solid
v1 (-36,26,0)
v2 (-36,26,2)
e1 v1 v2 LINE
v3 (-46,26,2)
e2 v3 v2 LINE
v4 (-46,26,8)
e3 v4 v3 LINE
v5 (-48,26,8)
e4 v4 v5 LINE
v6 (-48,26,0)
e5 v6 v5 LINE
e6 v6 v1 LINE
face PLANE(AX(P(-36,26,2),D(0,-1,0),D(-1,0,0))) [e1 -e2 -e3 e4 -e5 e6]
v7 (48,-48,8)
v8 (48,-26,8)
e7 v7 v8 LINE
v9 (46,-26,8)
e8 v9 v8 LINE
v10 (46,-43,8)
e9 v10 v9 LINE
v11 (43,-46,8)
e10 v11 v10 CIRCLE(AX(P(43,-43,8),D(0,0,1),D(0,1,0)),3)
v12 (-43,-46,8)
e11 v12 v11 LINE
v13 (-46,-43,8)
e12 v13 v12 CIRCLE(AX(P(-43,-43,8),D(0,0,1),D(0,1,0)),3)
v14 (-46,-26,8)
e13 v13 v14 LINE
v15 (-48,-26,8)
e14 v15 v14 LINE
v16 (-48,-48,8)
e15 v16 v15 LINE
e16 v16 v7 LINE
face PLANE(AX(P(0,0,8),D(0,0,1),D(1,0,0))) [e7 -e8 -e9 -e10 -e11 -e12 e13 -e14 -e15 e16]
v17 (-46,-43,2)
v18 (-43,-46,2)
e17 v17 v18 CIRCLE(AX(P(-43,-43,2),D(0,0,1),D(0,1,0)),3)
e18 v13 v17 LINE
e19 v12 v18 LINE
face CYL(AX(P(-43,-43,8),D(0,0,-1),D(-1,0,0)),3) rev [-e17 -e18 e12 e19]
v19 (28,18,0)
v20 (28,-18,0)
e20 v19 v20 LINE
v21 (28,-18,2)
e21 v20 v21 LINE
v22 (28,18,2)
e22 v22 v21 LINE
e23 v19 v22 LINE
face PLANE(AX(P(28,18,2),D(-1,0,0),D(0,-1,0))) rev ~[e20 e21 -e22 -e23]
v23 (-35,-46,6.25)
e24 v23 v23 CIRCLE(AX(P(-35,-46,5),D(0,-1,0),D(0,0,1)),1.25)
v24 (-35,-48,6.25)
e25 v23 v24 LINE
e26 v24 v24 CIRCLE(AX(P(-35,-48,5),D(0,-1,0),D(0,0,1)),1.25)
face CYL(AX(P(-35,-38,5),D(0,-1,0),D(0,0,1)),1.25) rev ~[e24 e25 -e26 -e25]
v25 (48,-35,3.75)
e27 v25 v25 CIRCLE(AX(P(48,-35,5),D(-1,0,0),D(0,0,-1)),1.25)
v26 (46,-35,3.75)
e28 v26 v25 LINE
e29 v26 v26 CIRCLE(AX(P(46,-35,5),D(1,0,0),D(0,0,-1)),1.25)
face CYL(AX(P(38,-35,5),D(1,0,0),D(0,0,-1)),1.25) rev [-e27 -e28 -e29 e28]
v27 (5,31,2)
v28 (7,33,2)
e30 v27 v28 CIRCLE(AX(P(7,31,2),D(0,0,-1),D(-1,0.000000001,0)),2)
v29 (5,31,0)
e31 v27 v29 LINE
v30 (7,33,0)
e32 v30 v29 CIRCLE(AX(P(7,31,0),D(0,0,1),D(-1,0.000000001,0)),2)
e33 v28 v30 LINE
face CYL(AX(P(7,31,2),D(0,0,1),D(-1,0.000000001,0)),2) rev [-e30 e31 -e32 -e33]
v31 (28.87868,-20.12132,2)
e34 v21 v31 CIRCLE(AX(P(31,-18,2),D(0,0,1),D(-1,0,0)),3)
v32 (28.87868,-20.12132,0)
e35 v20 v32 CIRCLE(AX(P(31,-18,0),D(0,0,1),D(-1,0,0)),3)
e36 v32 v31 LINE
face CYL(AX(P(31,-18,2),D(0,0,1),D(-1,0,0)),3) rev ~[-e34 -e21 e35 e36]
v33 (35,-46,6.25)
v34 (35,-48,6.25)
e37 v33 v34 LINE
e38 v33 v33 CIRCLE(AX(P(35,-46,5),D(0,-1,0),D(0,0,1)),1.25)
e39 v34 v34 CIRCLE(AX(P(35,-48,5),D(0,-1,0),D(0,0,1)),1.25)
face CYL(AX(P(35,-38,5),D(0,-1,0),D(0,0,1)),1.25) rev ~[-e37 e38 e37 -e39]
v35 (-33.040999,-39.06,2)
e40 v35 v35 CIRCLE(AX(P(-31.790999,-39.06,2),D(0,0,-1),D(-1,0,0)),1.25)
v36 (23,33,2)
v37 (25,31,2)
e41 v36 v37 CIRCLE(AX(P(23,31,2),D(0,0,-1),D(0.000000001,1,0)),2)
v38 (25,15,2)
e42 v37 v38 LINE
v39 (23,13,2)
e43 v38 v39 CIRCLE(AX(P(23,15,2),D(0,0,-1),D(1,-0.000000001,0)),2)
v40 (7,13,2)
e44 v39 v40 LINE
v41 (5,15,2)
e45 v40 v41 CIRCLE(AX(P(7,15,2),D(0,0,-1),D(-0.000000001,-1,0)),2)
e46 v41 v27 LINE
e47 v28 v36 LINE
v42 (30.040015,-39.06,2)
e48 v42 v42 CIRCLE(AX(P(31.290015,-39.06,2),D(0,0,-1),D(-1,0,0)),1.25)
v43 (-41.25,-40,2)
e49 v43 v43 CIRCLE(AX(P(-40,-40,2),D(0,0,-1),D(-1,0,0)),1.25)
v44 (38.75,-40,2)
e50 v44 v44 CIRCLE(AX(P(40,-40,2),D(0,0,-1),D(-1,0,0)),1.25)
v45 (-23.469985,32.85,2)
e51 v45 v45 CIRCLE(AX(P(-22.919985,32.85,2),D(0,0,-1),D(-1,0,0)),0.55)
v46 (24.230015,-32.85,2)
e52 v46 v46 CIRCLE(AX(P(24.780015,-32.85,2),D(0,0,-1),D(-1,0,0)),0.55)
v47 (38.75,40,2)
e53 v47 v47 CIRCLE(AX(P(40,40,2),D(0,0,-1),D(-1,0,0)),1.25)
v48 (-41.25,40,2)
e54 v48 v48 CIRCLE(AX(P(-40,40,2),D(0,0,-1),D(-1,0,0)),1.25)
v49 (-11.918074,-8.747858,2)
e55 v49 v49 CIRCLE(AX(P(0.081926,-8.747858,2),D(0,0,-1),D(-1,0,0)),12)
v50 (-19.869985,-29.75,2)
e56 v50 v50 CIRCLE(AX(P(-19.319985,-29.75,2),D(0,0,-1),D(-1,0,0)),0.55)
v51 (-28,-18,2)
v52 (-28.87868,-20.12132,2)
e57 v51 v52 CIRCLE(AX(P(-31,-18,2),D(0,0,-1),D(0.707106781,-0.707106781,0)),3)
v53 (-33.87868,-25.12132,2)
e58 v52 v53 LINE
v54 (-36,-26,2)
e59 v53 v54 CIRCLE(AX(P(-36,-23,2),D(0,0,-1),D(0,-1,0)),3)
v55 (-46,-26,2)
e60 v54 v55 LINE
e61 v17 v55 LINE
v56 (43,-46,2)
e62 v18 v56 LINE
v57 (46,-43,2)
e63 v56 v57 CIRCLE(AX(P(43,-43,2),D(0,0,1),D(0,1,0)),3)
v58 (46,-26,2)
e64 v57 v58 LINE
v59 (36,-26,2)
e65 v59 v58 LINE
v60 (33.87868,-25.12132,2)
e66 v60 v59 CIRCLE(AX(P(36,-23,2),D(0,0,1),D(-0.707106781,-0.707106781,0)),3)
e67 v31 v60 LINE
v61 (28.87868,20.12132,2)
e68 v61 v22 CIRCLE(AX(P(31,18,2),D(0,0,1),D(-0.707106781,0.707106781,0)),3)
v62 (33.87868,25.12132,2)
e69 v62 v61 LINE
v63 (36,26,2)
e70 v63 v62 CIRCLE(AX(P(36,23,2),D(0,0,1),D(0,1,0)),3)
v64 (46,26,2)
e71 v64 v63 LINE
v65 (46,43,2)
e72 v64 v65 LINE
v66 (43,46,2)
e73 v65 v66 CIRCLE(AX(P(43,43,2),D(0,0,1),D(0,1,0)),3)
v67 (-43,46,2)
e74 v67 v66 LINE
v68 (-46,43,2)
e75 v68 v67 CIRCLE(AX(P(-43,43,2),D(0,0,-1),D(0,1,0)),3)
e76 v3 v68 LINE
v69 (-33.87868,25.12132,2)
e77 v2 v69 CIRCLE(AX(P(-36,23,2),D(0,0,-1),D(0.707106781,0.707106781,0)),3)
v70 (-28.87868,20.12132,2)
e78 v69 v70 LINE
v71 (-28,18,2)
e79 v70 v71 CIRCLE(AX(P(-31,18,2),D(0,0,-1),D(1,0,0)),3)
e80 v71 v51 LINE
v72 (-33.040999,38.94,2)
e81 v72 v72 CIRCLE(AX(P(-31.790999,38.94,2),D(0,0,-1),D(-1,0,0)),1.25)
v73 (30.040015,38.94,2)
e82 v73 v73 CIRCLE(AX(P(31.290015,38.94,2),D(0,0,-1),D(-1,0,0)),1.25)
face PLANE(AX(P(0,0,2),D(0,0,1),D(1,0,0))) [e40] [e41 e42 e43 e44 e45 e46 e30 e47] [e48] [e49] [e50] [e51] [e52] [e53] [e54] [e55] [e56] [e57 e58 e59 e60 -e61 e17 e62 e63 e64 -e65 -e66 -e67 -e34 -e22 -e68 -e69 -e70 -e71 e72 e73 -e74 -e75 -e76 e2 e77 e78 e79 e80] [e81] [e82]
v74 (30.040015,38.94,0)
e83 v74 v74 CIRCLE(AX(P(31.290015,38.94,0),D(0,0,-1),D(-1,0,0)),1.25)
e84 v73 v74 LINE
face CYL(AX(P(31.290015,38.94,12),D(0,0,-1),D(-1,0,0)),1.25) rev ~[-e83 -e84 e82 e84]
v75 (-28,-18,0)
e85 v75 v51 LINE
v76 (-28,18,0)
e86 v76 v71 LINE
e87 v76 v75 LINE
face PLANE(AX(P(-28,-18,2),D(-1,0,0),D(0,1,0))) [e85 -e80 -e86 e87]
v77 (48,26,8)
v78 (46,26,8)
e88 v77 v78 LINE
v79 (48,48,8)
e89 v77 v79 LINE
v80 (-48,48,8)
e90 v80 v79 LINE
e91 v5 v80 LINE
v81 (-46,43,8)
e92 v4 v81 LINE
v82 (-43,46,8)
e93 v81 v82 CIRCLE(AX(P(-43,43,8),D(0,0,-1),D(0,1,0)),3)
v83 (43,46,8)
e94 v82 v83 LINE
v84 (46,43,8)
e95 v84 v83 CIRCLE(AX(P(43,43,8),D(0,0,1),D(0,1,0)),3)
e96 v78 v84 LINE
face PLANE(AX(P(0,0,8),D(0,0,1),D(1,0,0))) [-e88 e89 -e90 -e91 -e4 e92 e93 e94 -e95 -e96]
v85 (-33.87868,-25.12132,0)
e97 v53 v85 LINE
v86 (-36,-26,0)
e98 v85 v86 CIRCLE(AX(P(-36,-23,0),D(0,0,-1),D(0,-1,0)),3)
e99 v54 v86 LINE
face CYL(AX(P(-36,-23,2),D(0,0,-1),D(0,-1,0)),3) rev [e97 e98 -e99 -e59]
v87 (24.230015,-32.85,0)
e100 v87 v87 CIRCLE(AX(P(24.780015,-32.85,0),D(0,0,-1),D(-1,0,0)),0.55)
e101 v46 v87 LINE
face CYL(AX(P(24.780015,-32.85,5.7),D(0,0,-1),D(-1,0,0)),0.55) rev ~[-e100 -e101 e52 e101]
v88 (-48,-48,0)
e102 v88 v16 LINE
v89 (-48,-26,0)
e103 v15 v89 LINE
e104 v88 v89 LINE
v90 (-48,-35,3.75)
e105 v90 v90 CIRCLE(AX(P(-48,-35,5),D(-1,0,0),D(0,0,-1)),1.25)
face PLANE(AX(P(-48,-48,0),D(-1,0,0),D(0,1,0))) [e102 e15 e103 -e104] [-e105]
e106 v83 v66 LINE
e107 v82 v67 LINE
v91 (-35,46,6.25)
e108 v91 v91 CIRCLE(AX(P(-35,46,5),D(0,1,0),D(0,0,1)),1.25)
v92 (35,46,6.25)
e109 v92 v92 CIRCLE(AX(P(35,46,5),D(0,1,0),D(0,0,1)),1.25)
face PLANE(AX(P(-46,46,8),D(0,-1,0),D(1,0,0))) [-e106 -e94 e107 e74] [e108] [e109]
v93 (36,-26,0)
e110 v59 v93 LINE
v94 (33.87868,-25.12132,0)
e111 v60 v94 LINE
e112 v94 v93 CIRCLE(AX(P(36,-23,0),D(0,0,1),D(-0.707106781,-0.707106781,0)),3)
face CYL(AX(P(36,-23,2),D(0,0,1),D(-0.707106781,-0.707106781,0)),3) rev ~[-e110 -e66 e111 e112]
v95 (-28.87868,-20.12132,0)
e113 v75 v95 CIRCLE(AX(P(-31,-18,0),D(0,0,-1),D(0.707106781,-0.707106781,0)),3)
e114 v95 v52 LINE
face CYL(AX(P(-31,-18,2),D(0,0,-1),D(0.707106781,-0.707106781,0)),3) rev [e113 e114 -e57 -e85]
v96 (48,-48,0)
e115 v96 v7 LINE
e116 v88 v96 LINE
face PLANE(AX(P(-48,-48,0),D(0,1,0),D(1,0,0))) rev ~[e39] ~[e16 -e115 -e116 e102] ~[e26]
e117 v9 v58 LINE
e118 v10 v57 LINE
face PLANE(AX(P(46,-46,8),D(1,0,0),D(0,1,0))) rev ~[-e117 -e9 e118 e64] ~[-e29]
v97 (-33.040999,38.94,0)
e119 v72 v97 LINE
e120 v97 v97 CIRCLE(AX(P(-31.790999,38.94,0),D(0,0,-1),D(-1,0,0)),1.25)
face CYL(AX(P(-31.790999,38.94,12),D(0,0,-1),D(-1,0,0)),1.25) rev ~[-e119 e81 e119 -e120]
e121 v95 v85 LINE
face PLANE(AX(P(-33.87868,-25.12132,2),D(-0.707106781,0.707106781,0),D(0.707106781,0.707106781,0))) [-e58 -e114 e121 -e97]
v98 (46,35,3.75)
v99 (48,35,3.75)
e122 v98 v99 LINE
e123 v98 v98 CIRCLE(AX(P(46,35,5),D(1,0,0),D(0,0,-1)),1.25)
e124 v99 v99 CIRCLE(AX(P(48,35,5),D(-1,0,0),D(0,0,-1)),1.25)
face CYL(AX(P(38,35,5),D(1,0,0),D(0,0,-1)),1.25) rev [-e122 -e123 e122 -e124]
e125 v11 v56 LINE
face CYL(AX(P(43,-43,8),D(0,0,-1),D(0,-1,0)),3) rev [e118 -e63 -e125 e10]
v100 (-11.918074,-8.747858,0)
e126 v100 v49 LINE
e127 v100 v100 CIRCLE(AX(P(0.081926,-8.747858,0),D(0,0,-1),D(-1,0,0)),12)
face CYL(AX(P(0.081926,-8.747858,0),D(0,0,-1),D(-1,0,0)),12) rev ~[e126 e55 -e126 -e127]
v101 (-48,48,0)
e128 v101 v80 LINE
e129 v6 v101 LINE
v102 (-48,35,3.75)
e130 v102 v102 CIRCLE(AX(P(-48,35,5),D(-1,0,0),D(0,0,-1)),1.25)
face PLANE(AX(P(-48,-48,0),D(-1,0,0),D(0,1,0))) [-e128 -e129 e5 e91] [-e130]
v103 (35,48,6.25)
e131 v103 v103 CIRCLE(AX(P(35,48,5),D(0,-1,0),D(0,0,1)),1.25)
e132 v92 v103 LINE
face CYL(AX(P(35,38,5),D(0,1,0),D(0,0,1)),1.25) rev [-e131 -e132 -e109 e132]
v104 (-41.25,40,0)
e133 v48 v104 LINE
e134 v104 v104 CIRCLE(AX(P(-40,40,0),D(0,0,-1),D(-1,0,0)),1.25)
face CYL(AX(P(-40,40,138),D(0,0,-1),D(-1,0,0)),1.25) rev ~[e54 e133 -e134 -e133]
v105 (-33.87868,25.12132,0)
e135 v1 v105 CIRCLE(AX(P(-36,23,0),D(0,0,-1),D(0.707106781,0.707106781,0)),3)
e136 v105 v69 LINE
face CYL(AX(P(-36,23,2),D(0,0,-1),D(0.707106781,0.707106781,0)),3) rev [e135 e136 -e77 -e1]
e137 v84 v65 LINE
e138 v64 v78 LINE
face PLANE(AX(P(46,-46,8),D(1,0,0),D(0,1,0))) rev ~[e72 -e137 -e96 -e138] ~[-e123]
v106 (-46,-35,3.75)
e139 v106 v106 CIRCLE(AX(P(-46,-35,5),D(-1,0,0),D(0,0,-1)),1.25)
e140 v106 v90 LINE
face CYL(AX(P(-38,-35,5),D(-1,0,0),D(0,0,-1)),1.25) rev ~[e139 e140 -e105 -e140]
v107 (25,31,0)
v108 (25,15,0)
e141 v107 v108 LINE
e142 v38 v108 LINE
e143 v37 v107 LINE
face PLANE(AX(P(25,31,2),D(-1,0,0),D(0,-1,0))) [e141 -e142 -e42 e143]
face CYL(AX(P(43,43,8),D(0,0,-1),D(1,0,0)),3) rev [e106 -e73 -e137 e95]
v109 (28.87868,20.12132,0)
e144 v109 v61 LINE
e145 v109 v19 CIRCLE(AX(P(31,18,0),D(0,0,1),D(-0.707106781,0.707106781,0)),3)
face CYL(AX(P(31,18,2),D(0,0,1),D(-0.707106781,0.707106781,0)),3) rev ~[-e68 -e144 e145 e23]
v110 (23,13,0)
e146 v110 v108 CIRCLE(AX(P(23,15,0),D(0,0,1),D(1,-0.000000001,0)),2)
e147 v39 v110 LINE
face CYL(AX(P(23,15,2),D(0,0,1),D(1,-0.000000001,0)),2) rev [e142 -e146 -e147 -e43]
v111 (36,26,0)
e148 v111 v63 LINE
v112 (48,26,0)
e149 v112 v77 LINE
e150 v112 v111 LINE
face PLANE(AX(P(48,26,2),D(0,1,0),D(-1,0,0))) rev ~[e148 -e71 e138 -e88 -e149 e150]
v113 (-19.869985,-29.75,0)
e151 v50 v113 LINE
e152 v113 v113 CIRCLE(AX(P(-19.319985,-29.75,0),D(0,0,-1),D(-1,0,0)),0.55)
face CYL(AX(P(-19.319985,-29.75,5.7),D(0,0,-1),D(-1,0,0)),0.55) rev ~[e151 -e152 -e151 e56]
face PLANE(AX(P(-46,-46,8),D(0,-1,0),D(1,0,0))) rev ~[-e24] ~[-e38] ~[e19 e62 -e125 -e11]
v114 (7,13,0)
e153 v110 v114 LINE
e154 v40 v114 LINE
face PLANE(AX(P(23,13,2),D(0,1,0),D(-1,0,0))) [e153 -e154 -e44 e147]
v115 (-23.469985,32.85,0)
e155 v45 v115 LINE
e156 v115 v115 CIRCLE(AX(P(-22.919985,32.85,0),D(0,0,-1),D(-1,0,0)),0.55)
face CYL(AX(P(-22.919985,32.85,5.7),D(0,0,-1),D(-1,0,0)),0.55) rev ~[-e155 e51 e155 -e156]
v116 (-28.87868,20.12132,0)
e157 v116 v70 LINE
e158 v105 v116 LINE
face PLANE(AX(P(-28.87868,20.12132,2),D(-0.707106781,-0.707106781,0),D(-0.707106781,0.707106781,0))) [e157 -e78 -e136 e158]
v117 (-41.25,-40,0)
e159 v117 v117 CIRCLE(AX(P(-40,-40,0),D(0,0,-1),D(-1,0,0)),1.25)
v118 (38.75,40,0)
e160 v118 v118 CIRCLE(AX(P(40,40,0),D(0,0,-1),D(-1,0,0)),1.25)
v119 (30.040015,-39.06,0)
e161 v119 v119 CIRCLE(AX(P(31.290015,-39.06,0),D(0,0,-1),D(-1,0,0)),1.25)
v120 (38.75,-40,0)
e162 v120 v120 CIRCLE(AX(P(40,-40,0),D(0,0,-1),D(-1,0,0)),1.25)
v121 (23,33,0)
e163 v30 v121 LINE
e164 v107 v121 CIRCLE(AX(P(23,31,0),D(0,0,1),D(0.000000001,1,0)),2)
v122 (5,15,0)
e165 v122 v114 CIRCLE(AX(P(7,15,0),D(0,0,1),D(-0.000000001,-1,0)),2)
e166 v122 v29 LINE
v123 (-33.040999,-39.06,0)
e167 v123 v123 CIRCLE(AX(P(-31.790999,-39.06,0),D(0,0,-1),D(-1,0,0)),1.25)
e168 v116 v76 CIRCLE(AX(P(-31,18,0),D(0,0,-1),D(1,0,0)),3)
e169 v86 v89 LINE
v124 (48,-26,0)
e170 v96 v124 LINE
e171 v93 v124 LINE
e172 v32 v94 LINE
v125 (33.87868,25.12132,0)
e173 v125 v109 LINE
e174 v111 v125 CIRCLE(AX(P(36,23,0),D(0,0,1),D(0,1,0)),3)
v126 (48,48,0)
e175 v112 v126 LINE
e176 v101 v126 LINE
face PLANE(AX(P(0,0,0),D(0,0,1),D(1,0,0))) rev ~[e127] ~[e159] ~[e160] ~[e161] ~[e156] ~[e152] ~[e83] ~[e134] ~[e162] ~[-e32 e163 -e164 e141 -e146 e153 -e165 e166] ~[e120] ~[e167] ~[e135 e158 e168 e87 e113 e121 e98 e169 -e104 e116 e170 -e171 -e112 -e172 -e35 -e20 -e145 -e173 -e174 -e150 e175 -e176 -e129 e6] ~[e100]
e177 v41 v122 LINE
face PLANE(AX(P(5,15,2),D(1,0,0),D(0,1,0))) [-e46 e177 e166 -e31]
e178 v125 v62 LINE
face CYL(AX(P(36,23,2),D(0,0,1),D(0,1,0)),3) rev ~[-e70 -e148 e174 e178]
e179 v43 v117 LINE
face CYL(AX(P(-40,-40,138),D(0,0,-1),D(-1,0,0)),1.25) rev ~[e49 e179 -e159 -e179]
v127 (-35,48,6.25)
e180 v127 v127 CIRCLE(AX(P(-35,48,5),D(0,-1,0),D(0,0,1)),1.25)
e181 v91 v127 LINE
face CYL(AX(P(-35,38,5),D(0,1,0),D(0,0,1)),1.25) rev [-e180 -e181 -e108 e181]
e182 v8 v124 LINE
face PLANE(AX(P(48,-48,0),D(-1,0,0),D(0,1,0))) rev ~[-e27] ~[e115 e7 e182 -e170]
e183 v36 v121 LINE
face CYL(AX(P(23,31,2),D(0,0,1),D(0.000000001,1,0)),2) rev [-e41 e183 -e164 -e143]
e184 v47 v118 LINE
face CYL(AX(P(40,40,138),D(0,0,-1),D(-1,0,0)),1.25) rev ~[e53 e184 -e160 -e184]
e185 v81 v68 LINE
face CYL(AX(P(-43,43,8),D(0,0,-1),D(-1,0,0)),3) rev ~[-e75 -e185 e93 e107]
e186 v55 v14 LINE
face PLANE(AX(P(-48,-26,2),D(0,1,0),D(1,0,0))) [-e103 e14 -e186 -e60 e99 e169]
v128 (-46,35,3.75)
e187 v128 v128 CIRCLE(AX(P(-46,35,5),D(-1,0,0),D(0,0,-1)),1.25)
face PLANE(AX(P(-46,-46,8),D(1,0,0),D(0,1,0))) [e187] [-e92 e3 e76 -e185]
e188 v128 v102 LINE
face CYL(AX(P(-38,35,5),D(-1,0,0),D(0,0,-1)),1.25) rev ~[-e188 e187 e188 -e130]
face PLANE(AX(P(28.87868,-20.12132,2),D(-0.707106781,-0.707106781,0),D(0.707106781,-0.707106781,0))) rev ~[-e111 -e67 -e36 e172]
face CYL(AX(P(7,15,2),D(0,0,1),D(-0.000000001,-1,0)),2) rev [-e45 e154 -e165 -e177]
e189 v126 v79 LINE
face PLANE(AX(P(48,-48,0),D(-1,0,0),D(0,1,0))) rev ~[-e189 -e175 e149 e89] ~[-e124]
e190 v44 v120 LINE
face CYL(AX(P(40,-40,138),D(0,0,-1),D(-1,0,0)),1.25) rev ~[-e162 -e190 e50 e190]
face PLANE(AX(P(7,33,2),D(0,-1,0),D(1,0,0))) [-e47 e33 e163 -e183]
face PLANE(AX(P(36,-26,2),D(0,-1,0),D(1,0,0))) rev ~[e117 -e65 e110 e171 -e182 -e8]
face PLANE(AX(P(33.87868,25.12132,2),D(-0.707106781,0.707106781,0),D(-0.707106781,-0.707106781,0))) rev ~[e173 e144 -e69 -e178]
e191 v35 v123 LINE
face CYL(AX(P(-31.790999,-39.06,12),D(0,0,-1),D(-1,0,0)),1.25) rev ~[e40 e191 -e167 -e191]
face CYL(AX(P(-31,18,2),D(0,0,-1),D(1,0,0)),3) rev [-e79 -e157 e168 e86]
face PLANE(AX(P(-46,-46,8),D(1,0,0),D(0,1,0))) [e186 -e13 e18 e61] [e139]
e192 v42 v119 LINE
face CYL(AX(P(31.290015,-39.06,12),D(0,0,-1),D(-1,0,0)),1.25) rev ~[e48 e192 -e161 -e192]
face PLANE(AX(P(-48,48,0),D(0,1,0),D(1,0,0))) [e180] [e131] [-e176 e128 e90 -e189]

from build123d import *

# Parameters (mm, degrees)
SKETCH1_W                      = 96
SKETCH1_H                      = 96
BOSS_EXTRUDE1_DEPTH            = 8
SKETCH2_W                      = 92
SKETCH2_H                      = 92
COMPONENT_PLATFORM_DEPTH       = 6
CABLE_SLOTS_DEPTH              = 6
INNER_CORNER_FILLETS_R         = 3
M3X0_5_TAPPED_HOLE1_AT_2_COUNT = 2
M3X0_5_TAPPED_HOLE1_AT_2_PITCH = 70
M3X0_5_TAPPED_HOLE2_AT_2_COUNT = 2
M3X0_5_TAPPED_HOLE2_AT_2_PITCH = 70
M1_4X0_3_TAPPED_HOLE1_D        = 1.1
M1_4X0_3_TAPPED_HOLE1_DEPTH    = 3.7
M1_4X0_3_TAPPED_HOLE1_TIP      = 0.33047334
SKETCH29_R                     = 12
HDD_EXTRUSION_CUTOUT_DEPTH     = 10
HDD_EXTRUSION_CUTOUT_2_DEPTH   = 10
M3X0_5_TAPPED_HOLE3_D          = 2.5
M3X0_5_TAPPED_HOLE3_DEPTH      = 10
M3X0_5_TAPPED_HOLE3_TIP        = 0.751075774
M3X0_5_TAPPED_HOLE4_D          = 2.5


with BuildPart() as part:
    # Sketch1 → Boss-Extrude1 (new body)
    with BuildSketch(Plane.XY):
        Rectangle(SKETCH1_W, SKETCH1_H)
    extrude(amount=BOSS_EXTRUDE1_DEPTH)

    # Sketch2 → Component Platform (cut)
    with BuildSketch(Plane.XY.offset(8)):
        Rectangle(SKETCH2_W, SKETCH2_H)
    extrude(amount=-COMPONENT_PLATFORM_DEPTH, mode=Mode.SUBTRACT)

    # Sketch3 → Cable Slots (cut, symmetric)
    with BuildSketch(Plane.XY.offset(2)):
        with BuildLine():
            Line((-33.878679656, -25.121320344), (-28.878679656, -20.121320344))
            ThreePointArc((-28.878679656, -20.121320344), (-28.228361402, -19.148050297), (-28, -18))
            Line((-28, -18), (-28, 18))
            ThreePointArc((-28, 18), (-28.228361402, 19.148050297), (-28.878679656, 20.121320344))
            Line((-28.878679656, 20.121320344), (-33.878679656, 25.121320344))
            ThreePointArc((-33.878679656, 25.121320344), (-34.851949703, 25.771638598), (-36, 26))
            Line((-36, 26), (-48, 26))
            Line((-48, 26), (-48, -26))
            Line((-48, -26), (-36, -26))
            ThreePointArc((-36, -26), (-34.851949703, -25.771638598), (-33.878679656, -25.121320344))
        make_face()
        with BuildLine():
            Line((48, -26), (48, 26))
            Line((48, 26), (36, 26))
            ThreePointArc((36, 26), (34.851949703, 25.771638598), (33.878679656, 25.121320344))
            Line((33.878679656, 25.121320344), (28.878679656, 20.121320344))
            ThreePointArc((28.878679656, 20.121320344), (28.228361402, 19.148050297), (28, 18))
            Line((28, 18), (28, -18))
            ThreePointArc((28, -18), (28.228361402, -19.148050297), (28.878679656, -20.121320344))
            Line((28.878679656, -20.121320344), (33.878679656, -25.121320344))
            ThreePointArc((33.878679656, -25.121320344), (34.851949703, -25.771638598), (36, -26))
            Line((36, -26), (48, -26))
        make_face()
    extrude(amount=CABLE_SLOTS_DEPTH, both=True, mode=Mode.SUBTRACT)

    # Inner Corner Fillets
    inner_corner_fillets_edges = [part.edges().sort_by_distance(p)[0] for p in [
        (-46, -46, 5),
        (-46, 46, 5),
        (46, 46, 5),
        (46, -46, 5),
    ]]
    fillet(inner_corner_fillets_edges, radius=INNER_CORNER_FILLETS_R)

    # Sketch14 → M3x0.5 Tapped Hole1 (revolve, cut)
    with BuildSketch(Plane(origin=(48, -35, 5), x_dir=(0, 0, -1), z_dir=(0, 1, 0))):
        Polygon((0, 0), (0, 10.751075774), (1.25, 10), (1.25, 0), align=None)
    m3x0_5_tapped_hole1 = revolve(axis=Axis((54.35, -35, 5), (-1, 0, 0)), mode=Mode.SUBTRACT)

    # M3x0.5 Tapped Hole1 at 2: M3x0.5 Tapped Hole1 ×2
    with Locations(*[(0, i * M3X0_5_TAPPED_HOLE1_AT_2_PITCH, 0) for i in range(1, M3X0_5_TAPPED_HOLE1_AT_2_COUNT)]):
        add(m3x0_5_tapped_hole1, mode=Mode.SUBTRACT)

    # Sketch16 → M3x0.5 Tapped Hole2 (revolve, cut)
    with BuildSketch(Plane(origin=(35, 48, 5), x_dir=(0, 0, 1), z_dir=(1, 0, 0))):
        Polygon((0, 0), (0, 10.751075774), (1.25, 10), (1.25, 0), align=None)
    m3x0_5_tapped_hole2 = revolve(axis=Axis((35, 54.35, 5), (0, -1, 0)), mode=Mode.SUBTRACT)

    # M3x0.5 Tapped Hole2 at 2: M3x0.5 Tapped Hole2 ×2
    with Locations(*[(-i * M3X0_5_TAPPED_HOLE2_AT_2_PITCH, 0, 0) for i in range(1, M3X0_5_TAPPED_HOLE2_AT_2_COUNT)]):
        add(m3x0_5_tapped_hole2, mode=Mode.SUBTRACT)

    # Mirror1: M3x0.5 Tapped Hole1 across plane
    add(m3x0_5_tapped_hole1.mirror(Plane(origin=(0, 0, 0), x_dir=(0, 0, 1), z_dir=(1, 0, 0))), mode=Mode.SUBTRACT)

    # Mirror1 copy 1 sketch → Mirror1 copy 1 (revolve, cut)
    with BuildSketch(Plane(origin=(-48, 35, 5), x_dir=(0, 0, -1), z_dir=(0, 1, 0))):
        Polygon((0, 0), (0, -10.751075774), (1.25, -10), (1.25, 0), align=None)
    revolve(axis=Axis((-54.35, 35, 5), (-1, 0, 0)), mode=Mode.SUBTRACT)

    # Mirror2: M3x0.5 Tapped Hole2 across plane
    add(m3x0_5_tapped_hole2.mirror(Plane(origin=(0, 0, 0), x_dir=(0, 0, 1), z_dir=(0, -1, 0))), mode=Mode.SUBTRACT)

    # Mirror2 copy 1 sketch → Mirror2 copy 1 (revolve, cut)
    with BuildSketch(Plane(origin=(-35, -48, 5), x_dir=(0, 0, 1), z_dir=(1, 0, 0))):
        Polygon((0, 0), (0, -10.751075774), (1.25, -10), (1.25, 0), align=None)
    revolve(axis=Axis((-35, -54.35, 5), (0, -1, 0)), mode=Mode.SUBTRACT)

    # M1.4x0.3 Tapped Hole1
    with Locations(Plane.XY.offset(2)):
        with Locations((-19.31998517, -29.75), (24.78001483, -32.85), (-22.91998517, 32.85)):
            Hole(M1_4X0_3_TAPPED_HOLE1_D / 2, depth=M1_4X0_3_TAPPED_HOLE1_DEPTH)
            with Locations((0, 0, -(M1_4X0_3_TAPPED_HOLE1_DEPTH + M1_4X0_3_TAPPED_HOLE1_TIP / 2))):  # 118° drill point
                Cone(0, M1_4X0_3_TAPPED_HOLE1_D / 2, M1_4X0_3_TAPPED_HOLE1_TIP, mode=Mode.SUBTRACT)

    # Sketch29 → HDD Extrusion Cutout (cut)
    with BuildSketch(Plane(origin=(0, 0, 0), x_dir=(-1, 0, 0), z_dir=(0, 0, -1))):
        with Locations((-0.08192631, -8.74785827)):
            Circle(SKETCH29_R)
    extrude(amount=-HDD_EXTRUSION_CUTOUT_DEPTH, mode=Mode.SUBTRACT)

    # Sketch9 → HDD Extrusion Cutout 2 (cut)
    with BuildSketch(Plane.XY.offset(2)):
        with BuildLine():
            Line((25, 31), (25, 15))
            ThreePointArc((25, 15), (24.414213562, 13.585786438), (23, 13))
            Line((23, 13), (7, 13))
            ThreePointArc((7, 13), (5.585786438, 13.585786438), (5, 15))
            Line((5, 15), (5, 31))
            ThreePointArc((5, 31), (5.585786438, 32.414213562), (7, 33))
            Line((7, 33), (23, 33))
            ThreePointArc((23, 33), (24.414213562, 32.414213562), (25, 31))
        make_face()
    extrude(amount=-HDD_EXTRUSION_CUTOUT_2_DEPTH, mode=Mode.SUBTRACT)

    # M3x0.5 Tapped Hole3
    with Locations(Plane.XY.offset(2)):
        with Locations((-31.790998517, -39.06), (31.29001483, -39.06), (31.29001483, 38.94), (-31.790998517, 38.94)):
            Hole(M3X0_5_TAPPED_HOLE3_D / 2, depth=M3X0_5_TAPPED_HOLE3_DEPTH)
            with Locations((0, 0, -(M3X0_5_TAPPED_HOLE3_DEPTH + M3X0_5_TAPPED_HOLE3_TIP / 2))):  # 118° drill point
                Cone(0, M3X0_5_TAPPED_HOLE3_D / 2, M3X0_5_TAPPED_HOLE3_TIP, mode=Mode.SUBTRACT)

    # M3x0.5 Tapped Hole4 (through all)
    with Locations(Plane.XY.offset(2)):
        with Locations((40, -40), (-40, -40), (-40, 40), (40, 40)):
            Hole(M3X0_5_TAPPED_HOLE4_D / 2)


solid = part.part
